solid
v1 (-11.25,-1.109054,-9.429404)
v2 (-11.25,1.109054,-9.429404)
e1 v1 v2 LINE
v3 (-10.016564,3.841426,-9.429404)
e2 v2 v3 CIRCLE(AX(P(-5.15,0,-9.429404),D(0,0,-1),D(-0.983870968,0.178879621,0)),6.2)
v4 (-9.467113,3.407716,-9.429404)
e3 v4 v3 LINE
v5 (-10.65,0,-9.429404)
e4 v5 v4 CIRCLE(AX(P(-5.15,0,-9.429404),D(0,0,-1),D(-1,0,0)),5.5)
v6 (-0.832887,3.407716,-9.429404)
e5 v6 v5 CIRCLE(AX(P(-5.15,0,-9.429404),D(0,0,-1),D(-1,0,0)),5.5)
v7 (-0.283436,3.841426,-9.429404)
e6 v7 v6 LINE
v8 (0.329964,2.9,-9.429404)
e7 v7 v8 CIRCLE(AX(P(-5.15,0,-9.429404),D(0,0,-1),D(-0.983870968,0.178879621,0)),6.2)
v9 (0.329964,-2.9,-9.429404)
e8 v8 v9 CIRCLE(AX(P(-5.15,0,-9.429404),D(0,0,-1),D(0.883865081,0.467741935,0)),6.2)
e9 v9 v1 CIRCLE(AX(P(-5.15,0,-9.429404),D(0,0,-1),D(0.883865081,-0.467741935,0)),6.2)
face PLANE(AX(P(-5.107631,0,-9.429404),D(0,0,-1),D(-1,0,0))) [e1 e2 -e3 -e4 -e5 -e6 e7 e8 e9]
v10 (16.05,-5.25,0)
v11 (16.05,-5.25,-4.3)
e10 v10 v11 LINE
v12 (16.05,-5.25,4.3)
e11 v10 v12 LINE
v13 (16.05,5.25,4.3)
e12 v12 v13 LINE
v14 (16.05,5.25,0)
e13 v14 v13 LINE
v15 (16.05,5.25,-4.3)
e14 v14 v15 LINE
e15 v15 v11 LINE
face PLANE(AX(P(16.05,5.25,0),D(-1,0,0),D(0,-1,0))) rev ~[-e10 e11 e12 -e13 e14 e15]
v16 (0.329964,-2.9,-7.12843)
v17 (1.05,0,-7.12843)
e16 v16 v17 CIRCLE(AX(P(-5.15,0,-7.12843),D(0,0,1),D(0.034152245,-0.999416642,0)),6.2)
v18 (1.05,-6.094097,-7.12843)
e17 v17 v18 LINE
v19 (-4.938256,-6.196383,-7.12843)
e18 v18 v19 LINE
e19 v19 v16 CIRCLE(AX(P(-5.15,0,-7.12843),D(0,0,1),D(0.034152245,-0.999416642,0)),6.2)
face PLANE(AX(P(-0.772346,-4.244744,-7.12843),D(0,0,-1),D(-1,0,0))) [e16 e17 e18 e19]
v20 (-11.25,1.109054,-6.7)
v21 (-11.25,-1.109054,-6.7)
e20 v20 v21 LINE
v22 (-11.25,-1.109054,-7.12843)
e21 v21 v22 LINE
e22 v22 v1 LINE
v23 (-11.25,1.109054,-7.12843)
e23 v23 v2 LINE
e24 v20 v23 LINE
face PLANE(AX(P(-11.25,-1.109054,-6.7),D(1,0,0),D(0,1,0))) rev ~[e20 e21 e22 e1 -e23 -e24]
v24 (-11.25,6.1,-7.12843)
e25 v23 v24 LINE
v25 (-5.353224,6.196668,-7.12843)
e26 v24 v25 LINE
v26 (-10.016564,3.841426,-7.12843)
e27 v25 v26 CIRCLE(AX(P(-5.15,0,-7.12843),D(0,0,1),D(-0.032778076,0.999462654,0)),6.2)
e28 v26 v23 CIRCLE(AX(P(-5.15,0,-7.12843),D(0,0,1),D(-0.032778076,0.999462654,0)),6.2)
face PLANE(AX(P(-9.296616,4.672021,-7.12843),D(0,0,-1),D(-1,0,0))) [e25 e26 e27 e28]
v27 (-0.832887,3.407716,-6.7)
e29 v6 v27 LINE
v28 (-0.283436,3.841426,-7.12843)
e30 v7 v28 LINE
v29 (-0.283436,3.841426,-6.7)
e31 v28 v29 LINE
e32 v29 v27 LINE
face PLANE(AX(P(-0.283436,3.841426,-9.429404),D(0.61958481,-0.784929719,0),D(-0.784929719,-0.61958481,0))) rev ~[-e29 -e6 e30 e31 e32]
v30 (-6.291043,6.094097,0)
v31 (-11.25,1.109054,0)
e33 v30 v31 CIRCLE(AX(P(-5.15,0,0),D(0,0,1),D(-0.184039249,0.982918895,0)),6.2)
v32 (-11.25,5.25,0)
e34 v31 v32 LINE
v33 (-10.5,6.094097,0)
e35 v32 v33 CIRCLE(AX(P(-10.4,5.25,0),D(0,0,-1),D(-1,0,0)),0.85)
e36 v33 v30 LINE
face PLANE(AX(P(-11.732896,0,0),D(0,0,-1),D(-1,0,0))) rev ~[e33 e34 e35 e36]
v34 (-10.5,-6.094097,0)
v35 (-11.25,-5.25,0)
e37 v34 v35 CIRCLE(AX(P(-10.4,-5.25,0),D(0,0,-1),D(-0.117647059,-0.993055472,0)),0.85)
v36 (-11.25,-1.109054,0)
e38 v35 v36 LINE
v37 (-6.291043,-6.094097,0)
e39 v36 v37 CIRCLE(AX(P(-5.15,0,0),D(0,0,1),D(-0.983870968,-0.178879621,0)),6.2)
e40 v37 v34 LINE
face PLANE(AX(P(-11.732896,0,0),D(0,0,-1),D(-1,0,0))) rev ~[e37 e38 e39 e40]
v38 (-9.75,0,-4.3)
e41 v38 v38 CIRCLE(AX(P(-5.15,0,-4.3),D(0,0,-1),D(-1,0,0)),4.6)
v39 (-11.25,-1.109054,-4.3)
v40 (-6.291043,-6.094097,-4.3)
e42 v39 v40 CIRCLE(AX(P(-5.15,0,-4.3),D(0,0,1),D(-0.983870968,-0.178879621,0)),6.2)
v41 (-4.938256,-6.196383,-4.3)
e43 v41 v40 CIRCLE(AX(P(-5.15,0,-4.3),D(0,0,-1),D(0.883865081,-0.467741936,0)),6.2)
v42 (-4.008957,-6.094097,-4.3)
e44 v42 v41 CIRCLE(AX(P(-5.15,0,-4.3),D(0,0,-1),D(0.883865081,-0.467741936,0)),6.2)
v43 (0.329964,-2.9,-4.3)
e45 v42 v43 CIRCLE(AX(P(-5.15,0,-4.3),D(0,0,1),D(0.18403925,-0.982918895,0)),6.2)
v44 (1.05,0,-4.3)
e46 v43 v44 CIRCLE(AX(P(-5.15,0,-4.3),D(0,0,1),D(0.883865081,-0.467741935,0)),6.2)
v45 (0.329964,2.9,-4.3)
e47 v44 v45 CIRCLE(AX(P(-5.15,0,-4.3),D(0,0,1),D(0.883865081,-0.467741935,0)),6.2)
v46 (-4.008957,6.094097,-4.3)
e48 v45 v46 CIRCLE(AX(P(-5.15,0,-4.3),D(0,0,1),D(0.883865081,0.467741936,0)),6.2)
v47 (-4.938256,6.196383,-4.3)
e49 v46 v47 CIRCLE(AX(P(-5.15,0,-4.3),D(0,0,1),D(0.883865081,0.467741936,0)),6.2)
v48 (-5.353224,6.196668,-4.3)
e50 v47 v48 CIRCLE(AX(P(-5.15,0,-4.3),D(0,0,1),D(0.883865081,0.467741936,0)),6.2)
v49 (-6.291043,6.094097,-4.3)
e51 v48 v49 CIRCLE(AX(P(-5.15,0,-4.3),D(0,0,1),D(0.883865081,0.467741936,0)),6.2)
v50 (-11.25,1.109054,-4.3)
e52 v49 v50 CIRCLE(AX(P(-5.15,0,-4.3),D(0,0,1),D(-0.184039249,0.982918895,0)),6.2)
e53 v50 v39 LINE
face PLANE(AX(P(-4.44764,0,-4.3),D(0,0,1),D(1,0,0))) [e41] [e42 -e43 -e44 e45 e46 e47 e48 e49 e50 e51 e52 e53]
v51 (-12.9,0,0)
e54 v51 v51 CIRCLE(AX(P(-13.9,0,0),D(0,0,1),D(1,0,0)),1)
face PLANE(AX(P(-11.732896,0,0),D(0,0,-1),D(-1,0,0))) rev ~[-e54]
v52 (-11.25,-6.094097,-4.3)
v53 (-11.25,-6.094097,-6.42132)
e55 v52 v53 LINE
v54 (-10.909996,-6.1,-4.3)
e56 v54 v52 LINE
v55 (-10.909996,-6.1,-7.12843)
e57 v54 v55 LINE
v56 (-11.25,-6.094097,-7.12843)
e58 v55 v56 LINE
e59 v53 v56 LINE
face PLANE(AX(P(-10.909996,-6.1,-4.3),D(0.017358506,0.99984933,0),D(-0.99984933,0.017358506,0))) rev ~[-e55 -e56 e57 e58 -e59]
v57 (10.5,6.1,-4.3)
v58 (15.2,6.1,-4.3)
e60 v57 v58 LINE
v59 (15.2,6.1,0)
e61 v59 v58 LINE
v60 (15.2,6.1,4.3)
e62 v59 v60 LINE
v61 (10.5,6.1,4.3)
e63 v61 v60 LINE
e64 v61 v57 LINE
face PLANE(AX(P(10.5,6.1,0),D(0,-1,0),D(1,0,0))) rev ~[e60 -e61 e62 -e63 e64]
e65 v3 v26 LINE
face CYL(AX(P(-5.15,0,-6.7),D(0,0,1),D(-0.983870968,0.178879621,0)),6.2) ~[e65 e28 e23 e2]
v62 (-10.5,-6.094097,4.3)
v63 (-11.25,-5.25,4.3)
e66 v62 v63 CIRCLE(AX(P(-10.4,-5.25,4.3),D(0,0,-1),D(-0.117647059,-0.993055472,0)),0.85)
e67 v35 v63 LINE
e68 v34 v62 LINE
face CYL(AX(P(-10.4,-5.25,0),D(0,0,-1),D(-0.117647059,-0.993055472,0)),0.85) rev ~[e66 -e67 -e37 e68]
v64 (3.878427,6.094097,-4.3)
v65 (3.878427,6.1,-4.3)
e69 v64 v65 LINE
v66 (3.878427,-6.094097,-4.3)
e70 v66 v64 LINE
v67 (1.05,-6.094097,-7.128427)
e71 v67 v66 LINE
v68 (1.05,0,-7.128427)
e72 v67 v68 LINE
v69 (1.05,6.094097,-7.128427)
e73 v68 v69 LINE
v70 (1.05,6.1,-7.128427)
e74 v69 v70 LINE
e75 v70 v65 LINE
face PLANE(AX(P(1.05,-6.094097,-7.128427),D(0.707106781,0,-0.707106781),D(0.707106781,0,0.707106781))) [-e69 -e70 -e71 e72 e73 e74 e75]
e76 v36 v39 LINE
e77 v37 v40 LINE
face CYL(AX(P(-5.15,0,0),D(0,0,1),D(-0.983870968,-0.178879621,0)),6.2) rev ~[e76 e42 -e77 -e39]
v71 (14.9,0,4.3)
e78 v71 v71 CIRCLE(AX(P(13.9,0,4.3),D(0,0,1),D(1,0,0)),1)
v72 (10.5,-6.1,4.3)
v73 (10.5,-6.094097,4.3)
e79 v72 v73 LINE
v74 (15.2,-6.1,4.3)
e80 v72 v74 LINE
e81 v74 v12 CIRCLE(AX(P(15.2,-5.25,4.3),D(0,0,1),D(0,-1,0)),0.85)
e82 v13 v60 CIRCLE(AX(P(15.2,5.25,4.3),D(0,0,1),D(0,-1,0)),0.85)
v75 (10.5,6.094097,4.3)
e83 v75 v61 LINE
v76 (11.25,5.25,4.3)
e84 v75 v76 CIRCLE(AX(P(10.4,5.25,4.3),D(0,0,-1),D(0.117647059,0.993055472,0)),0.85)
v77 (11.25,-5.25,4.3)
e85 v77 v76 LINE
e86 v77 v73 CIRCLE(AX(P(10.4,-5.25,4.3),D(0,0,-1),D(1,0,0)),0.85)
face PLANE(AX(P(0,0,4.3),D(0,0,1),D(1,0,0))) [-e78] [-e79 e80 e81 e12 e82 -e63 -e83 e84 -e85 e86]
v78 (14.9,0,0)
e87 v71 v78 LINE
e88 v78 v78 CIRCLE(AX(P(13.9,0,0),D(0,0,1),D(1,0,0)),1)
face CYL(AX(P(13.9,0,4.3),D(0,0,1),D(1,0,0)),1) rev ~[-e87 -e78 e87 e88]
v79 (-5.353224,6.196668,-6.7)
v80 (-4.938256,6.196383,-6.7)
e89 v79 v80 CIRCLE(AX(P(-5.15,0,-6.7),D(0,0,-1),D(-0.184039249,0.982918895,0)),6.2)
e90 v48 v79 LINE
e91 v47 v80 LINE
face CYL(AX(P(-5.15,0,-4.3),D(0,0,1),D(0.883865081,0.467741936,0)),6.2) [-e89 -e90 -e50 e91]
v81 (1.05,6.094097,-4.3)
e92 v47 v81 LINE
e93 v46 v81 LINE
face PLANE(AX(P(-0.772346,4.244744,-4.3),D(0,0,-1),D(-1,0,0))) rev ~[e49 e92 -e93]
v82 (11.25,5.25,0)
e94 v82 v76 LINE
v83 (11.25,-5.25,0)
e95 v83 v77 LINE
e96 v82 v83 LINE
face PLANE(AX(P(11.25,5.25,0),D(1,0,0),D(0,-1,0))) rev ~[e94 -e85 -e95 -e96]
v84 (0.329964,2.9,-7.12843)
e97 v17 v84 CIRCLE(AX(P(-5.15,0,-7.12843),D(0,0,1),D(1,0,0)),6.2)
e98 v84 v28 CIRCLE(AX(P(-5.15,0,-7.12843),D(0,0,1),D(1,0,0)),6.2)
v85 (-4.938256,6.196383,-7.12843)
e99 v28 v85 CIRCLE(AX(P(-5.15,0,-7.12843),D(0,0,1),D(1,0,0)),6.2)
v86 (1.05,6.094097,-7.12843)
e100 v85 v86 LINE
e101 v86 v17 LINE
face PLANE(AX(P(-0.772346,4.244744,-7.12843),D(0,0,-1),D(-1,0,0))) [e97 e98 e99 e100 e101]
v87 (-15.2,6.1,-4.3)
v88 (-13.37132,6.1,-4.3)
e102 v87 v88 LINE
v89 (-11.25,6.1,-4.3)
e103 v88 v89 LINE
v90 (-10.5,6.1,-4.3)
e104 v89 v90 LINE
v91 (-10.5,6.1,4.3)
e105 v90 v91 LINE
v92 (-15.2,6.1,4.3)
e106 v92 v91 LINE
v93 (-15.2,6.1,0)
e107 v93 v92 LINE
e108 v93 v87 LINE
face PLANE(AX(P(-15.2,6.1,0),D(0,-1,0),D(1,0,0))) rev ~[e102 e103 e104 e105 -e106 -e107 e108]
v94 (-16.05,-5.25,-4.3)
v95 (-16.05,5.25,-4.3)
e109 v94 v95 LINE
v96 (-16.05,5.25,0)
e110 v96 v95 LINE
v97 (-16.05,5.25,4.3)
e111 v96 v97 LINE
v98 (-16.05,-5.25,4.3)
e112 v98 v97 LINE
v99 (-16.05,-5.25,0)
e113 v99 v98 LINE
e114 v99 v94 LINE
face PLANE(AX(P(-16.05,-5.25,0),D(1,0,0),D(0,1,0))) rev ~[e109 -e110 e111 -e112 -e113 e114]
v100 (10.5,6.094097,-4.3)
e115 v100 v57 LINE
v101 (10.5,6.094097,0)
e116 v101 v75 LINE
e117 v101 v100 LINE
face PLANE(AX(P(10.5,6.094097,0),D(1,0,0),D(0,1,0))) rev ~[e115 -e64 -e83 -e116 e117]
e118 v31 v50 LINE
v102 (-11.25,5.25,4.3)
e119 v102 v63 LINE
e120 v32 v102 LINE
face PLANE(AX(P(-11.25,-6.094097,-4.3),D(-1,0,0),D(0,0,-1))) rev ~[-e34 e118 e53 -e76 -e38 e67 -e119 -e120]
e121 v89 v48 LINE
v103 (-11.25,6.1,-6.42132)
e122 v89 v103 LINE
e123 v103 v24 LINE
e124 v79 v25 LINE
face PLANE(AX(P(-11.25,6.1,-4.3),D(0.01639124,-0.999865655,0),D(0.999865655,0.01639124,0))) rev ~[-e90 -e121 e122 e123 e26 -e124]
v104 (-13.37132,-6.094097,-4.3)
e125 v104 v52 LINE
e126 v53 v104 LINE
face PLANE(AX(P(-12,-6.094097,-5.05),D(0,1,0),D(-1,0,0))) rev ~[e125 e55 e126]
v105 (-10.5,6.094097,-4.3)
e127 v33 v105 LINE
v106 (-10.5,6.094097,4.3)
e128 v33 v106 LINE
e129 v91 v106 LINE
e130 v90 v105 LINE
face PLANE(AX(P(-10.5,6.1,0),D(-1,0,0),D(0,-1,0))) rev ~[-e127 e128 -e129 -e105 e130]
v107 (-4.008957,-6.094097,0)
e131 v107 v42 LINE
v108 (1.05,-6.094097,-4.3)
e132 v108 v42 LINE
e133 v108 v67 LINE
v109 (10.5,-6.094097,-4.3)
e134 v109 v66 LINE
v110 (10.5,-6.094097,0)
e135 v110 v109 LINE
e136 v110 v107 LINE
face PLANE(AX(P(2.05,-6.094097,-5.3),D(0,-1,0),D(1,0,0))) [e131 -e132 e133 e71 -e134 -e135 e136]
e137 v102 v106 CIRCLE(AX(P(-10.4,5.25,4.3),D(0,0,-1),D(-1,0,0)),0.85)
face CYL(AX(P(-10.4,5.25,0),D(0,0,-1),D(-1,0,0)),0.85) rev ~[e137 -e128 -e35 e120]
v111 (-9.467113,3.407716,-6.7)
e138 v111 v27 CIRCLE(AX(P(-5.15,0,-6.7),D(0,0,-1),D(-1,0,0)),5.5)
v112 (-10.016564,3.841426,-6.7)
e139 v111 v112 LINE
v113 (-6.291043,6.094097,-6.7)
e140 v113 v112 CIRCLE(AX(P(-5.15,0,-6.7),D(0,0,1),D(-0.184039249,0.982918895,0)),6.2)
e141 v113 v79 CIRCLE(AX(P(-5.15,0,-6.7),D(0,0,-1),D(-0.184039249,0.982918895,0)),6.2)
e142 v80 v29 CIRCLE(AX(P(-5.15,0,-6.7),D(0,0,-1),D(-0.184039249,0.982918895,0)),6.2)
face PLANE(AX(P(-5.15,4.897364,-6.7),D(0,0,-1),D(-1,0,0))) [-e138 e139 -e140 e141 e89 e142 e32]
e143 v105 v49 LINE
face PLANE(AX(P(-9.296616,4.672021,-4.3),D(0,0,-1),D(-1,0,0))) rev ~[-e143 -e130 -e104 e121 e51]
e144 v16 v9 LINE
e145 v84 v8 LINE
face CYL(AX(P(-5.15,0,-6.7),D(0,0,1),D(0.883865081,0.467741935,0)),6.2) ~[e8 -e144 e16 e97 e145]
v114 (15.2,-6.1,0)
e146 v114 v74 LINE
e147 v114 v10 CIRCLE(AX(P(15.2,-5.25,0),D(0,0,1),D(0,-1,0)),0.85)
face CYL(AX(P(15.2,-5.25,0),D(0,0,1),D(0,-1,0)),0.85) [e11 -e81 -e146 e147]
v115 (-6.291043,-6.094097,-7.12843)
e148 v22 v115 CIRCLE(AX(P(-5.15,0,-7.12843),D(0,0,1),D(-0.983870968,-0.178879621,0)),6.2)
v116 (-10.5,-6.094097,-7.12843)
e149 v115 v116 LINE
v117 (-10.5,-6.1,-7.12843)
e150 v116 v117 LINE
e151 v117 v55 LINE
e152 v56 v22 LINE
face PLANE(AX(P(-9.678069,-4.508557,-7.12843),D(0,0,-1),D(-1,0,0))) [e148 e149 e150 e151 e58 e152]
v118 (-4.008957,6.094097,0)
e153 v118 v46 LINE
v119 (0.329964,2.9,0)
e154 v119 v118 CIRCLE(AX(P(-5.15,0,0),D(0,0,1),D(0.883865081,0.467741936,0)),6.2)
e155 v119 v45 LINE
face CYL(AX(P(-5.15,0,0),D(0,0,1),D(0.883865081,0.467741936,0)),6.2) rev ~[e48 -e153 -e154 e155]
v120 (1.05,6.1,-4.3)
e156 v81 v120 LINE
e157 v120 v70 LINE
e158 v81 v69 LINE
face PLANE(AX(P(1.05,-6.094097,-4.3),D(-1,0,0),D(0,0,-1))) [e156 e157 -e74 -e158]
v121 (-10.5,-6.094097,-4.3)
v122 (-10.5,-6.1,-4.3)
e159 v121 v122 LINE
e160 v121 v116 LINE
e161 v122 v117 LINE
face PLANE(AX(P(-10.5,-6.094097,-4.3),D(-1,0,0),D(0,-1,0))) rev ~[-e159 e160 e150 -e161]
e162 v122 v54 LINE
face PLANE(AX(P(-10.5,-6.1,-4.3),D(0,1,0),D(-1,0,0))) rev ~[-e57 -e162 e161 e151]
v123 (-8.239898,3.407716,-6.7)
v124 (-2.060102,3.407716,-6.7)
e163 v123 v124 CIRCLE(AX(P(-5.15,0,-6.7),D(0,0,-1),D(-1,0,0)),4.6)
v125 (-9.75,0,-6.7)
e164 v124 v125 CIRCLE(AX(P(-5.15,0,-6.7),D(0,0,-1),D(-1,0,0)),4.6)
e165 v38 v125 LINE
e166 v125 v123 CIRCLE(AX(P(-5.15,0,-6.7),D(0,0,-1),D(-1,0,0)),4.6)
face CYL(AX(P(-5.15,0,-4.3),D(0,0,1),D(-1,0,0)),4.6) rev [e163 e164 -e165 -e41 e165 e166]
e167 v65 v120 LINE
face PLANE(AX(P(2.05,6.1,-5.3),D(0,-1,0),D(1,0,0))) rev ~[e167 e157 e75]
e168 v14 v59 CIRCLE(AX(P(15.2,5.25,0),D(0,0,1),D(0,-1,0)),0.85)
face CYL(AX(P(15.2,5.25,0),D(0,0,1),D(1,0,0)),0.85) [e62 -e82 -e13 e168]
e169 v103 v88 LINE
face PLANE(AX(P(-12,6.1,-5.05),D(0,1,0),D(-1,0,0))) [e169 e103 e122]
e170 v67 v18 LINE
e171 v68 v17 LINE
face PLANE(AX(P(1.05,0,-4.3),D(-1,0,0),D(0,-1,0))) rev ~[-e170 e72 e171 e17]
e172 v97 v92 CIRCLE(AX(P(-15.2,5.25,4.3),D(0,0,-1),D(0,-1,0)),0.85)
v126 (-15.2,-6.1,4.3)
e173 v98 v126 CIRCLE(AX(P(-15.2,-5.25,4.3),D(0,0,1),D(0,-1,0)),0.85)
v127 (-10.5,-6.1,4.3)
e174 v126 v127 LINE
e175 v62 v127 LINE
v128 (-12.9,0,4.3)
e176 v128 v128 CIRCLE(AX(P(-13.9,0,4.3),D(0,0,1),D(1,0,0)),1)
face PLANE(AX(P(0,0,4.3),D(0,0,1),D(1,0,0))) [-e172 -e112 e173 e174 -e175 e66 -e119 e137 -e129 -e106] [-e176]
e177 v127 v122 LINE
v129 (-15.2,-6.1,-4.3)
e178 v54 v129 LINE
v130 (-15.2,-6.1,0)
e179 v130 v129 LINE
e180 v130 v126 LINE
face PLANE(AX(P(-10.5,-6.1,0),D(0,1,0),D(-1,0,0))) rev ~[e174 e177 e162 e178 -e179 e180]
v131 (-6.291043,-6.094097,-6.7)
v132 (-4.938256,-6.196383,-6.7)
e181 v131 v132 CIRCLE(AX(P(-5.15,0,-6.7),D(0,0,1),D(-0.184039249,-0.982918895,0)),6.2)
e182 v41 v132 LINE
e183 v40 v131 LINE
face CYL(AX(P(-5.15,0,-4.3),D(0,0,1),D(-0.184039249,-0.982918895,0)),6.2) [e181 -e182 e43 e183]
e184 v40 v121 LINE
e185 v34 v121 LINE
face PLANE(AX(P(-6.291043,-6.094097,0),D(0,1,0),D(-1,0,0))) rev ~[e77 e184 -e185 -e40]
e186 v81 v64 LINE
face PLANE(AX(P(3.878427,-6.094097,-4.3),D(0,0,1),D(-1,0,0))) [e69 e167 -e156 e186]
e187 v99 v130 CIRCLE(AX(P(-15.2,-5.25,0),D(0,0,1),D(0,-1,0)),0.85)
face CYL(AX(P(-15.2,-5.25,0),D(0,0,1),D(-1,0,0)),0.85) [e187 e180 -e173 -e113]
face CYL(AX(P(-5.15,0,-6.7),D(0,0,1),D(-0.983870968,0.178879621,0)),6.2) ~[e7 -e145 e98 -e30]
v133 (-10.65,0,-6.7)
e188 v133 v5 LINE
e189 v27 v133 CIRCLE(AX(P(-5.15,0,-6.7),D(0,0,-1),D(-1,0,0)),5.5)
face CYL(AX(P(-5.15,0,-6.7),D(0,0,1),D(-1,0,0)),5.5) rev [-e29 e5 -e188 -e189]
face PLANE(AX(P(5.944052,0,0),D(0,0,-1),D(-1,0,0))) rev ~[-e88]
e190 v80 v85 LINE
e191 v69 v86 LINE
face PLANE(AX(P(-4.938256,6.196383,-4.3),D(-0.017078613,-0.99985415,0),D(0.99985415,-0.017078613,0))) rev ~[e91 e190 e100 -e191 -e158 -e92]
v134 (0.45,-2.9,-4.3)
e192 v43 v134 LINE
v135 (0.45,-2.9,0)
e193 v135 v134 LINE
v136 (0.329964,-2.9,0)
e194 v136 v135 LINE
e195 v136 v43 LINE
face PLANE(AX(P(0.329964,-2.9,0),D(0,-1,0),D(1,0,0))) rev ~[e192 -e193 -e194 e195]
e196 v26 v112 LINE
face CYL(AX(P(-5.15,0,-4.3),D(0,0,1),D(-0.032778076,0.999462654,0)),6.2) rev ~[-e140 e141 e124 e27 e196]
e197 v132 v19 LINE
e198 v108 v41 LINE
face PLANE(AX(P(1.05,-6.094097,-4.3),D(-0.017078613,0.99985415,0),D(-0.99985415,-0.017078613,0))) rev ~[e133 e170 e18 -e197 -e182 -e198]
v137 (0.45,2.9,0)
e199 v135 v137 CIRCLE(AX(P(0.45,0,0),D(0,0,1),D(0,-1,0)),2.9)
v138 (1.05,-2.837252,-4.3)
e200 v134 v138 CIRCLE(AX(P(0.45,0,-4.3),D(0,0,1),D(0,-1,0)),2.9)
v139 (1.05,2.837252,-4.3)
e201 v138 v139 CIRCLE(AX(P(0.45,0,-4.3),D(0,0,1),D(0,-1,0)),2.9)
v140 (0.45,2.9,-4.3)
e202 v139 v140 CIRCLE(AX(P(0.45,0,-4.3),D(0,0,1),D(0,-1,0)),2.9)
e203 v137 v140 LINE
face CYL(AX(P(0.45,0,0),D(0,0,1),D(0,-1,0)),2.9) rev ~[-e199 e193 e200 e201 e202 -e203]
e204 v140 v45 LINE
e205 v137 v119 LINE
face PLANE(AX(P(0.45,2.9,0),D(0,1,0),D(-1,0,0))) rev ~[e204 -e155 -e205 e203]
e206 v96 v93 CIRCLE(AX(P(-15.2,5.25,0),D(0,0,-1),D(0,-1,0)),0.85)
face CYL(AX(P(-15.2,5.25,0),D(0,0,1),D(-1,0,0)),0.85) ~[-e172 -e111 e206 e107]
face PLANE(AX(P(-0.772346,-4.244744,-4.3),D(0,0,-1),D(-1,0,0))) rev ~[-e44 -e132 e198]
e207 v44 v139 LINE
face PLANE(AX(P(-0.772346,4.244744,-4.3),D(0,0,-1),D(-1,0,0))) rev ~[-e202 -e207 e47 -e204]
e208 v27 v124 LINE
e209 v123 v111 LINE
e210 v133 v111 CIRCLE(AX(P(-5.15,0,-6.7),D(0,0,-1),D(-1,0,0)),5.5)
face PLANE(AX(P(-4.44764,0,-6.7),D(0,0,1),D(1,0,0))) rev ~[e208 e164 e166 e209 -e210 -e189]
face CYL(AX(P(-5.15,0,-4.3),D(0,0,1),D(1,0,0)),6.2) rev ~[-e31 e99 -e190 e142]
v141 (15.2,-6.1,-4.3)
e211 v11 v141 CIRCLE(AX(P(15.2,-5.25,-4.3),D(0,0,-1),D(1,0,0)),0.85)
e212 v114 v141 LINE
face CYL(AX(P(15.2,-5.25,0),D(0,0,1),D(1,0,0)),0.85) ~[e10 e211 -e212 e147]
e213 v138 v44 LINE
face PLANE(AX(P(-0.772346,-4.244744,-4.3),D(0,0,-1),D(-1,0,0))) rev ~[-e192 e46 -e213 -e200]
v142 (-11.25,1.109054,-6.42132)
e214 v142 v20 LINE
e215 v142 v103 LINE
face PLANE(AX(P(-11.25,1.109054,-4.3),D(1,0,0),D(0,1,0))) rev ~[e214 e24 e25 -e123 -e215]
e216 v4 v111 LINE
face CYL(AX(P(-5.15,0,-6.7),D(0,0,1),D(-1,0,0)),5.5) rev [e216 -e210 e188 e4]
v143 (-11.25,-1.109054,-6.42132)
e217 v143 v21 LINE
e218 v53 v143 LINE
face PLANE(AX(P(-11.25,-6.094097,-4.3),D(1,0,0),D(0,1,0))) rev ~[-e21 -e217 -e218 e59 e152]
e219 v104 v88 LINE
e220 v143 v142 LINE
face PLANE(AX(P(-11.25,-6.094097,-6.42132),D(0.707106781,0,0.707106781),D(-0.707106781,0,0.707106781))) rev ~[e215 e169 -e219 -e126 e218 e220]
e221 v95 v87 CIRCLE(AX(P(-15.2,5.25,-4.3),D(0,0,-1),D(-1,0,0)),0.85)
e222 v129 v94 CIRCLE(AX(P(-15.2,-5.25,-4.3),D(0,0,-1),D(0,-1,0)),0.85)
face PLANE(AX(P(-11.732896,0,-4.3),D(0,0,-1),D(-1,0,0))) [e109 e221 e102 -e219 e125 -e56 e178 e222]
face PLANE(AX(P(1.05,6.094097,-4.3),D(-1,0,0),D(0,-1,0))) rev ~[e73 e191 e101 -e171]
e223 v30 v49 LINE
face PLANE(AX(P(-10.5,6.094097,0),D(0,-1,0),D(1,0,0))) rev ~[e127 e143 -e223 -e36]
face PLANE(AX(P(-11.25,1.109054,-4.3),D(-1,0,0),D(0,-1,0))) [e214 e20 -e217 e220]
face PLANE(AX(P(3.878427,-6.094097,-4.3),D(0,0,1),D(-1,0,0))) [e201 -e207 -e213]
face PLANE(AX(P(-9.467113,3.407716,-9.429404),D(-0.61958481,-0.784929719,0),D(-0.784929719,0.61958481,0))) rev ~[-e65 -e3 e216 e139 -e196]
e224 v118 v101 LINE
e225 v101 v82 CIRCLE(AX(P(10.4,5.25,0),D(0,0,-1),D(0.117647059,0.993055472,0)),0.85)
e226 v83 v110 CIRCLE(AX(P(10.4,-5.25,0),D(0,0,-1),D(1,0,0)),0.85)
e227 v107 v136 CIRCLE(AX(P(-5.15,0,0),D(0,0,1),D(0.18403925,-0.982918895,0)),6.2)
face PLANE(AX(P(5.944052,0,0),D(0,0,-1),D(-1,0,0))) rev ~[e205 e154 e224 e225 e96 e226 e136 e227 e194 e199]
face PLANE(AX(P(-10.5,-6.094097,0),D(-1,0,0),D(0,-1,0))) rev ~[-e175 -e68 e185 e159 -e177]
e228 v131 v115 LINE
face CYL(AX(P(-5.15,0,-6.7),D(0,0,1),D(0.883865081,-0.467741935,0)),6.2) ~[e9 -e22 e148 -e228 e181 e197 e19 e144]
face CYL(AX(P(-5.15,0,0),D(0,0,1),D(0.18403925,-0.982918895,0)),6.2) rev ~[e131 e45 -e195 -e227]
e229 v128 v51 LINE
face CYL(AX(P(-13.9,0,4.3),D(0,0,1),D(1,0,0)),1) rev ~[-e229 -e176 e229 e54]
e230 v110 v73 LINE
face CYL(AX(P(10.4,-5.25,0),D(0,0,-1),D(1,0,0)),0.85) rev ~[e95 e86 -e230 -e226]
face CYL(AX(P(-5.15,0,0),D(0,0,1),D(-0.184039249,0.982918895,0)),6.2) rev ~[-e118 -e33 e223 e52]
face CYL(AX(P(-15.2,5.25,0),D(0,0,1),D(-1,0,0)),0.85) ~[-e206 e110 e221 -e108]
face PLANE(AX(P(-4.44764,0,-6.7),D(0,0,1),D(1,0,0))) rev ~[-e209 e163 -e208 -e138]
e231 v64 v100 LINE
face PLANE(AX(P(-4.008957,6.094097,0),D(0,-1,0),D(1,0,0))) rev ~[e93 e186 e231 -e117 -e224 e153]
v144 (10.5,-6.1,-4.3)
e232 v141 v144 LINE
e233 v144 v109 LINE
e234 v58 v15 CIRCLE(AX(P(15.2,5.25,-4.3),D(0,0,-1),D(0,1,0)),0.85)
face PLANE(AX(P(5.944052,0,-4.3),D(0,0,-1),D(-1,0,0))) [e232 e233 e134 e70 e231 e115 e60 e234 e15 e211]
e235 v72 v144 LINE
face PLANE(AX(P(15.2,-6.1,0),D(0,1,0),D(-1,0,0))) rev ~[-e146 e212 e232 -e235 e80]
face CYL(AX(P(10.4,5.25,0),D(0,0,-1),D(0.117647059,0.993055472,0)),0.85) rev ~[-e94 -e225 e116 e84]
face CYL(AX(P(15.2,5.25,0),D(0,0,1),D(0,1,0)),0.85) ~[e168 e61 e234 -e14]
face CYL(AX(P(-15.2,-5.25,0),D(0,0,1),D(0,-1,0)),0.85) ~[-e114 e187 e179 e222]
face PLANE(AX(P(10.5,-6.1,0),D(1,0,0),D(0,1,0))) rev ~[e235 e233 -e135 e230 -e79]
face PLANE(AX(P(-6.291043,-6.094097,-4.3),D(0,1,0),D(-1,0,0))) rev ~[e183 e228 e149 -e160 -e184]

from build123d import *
from build123d.topology import SkipClean

# Parameters (mm, degrees)
SKETCH1_W           = 32.1
SKETCH1_H           = 12.2
BOSS_EXTRUDE1_DEPTH = 4.3
FILLET1_R           = 0.85
CUT_EXTRUDE1_DEPTH  = 10
SKETCH3_R           = 1
CUT_EXTRUDE2_DEPTH  = 5
BOSS_EXTRUDE2_DEPTH = 4.3
SKETCH6_R           = 4.6
BOSS_EXTRUDE3_DEPTH = 2.4
CUT_EXTRUDE4_DEPTH  = 2.4
SKETCH7_R           = 5.5
BOSS_EXTRUDE4_DEPTH = 2.729404
CUT_EXTRUDE3_DEPTH  = 2.729404426
BOSS_EXTRUDE5_DEPTH = 12.194097
BOSS_EXTRUDE6_DEPTH = 2.82843


with BuildPart() as part:
    # Sketch1 → Boss-Extrude1 (new body)
    with BuildSketch(Plane.XY):
        Rectangle(SKETCH1_W, SKETCH1_H)
    extrude(amount=BOSS_EXTRUDE1_DEPTH)

    # Fillet1
    fillet1_edges = [part.edges().sort_by_distance(p)[0] for p in [
        (16.05, -6.1, 2.15),
        (-16.05, -6.1, 2.15),
        (-16.05, 6.1, 2.15),
        (16.05, 6.1, 2.15),
    ]]
    fillet(fillet1_edges, radius=FILLET1_R)

    # Sketch2 → Cut-Extrude1 (cut)
    with BuildSketch(Plane(origin=(0, 0, 0), x_dir=(-1, 0, 0), z_dir=(0, 0, -1))):
        with BuildLine():
            ThreePointArc((-10.4, 6), (-10.930330086, 5.780330086), (-11.15, 5.25))
            Line((-11.15, 5.25), (-11.15, -5.25))
            ThreePointArc((-11.15, -5.25), (-10.930330086, -5.780330086), (-10.4, -6))
            Line((-10.4, -6), (-10.4, -6.1))
            Line((-10.4, -6.1), (10.4, -6.1))
            Line((10.4, -6.1), (10.4, -6))
            ThreePointArc((10.4, -6), (10.930330086, -5.780330086), (11.15, -5.25))
            Line((11.15, -5.25), (11.15, 5.25))
            ThreePointArc((11.15, 5.25), (10.930330086, 5.780330086), (10.4, 6))
            Line((10.4, 6), (10.4, 6.1))
            Line((10.4, 6.1), (-10.4, 6.1))
            Line((-10.4, 6.1), (-10.4, 6))
        make_face()
        with BuildLine():
            Line((-11.15, -5.25), (-11.15, 5.25))
            ThreePointArc((-11.15, 5.25), (-10.930330086, 5.780330086), (-10.4, 6))
            Line((-10.4, 6), (-10.4, 6.1))
            Line((-10.4, 6.1), (-10.5, 6.1))
            Line((-10.5, 6.1), (-10.5, 6.094097151))
            ThreePointArc((-10.5, 6.094097151), (-11.035413251, 5.81457949), (-11.25, 5.25))
            Line((-11.25, 5.25), (-11.25, -5.25))
            ThreePointArc((-11.25, -5.25), (-11.035413251, -5.81457949), (-10.5, -6.094097151))
            Line((-10.5, -6.094097151), (-10.5, -6.1))
            Line((-10.5, -6.1), (-10.4, -6.1))
            Line((-10.4, -6.1), (-10.4, -6))
            ThreePointArc((-10.4, -6), (-10.930330086, -5.780330086), (-11.15, -5.25))
        make_face()
        with BuildLine():
            Line((10.5, 6.1), (10.4, 6.1))
            Line((10.4, 6.1), (10.4, 6))
            ThreePointArc((10.4, 6), (10.930330086, 5.780330086), (11.15, 5.25))
            Line((11.15, 5.25), (11.15, -5.25))
            ThreePointArc((11.15, -5.25), (10.930330086, -5.780330086), (10.4, -6))
            Line((10.4, -6), (10.4, -6.1))
            Line((10.4, -6.1), (10.5, -6.1))
            Line((10.5, -6.1), (10.5, -6.094097151))
            ThreePointArc((10.5, -6.094097151), (11.035413251, -5.81457949), (11.25, -5.25))
            Line((11.25, -5.25), (11.25, 5.25))
            ThreePointArc((11.25, 5.25), (11.035413251, 5.81457949), (10.5, 6.094097151))
            Line((10.5, 6.094097151), (10.5, 6.1))
        make_face()
    extrude(amount=-CUT_EXTRUDE1_DEPTH, mode=Mode.SUBTRACT)


with BuildPart() as cut_extrude1_piece_1:
    # of the separate pieces the step leaves, piece 1, a body of its own (cut_extrude1_pieces)
    add(part.part.solids().sort_by_distance((-15.2, -6.1, 0))[0])


with BuildPart() as cut_extrude1_piece_2:
    # of the separate pieces the step leaves, piece 2, a body of its own (cut_extrude1_pieces)
    add(part.part.solids().sort_by_distance((10.5, -6.1, 0))[0])


with BuildPart() as cut_extrude2_tool:
    # Sketch3 → Cut-Extrude2 (new body)
    with BuildSketch(Plane.XY.offset(4.3)):
        with Locations((-13.9, 0)):
            Circle(SKETCH3_R)
        with Locations((13.9, 0)):
            Circle(SKETCH3_R)
    extrude(amount=-CUT_EXTRUDE2_DEPTH)


with BuildPart() as cut_extrude1_piece_1_1:
    add(cut_extrude1_piece_1.part)

    # Cut-Extrude2: cut by cut_extrude2_tool
    add(cut_extrude2_tool.part, mode=Mode.SUBTRACT)



with BuildPart() as cut_extrude1_piece_2_1:
    add(cut_extrude1_piece_2.part)

    # Cut-Extrude2: cut by cut_extrude2_tool
    add(cut_extrude2_tool.part, mode=Mode.SUBTRACT)


with BuildPart() as cut_extrude1_piece_1_2:
    add(cut_extrude1_piece_1_1.part)

    add(cut_extrude1_piece_2_1.part)  # Boss-Extrude2 merges Cut-Extrude1 piece 2
    # Sketch5 → Boss-Extrude2 (add)
    with BuildSketch(Plane(origin=(0, 0, 0), x_dir=(-1, 0, 0), z_dir=(0, 0, -1))):
        with BuildLine():
            Line((10.5, 6.1), (10.5, 6.094097151))
            Line((10.5, 6.094097151), (6.291043346, 6.094097151))
            ThreePointArc((6.291043346, 6.094097151), (9.545547959, 4.372545957), (11.25, 1.109053651))
            Line((11.25, 1.109053651), (11.25, -1.109053651))
            ThreePointArc((11.25, -1.109053651), (9.545547959, -4.372545957), (6.291043346, -6.094097151))
            Line((6.291043346, -6.094097151), (10.5, -6.094097151))
            Line((10.5, -6.094097151), (10.5, -6.1))
            Line((10.5, -6.1), (15.2, -6.1))
            ThreePointArc((15.2, -6.1), (15.801040764, -5.851040764), (16.05, -5.25))
            Line((16.05, -5.25), (16.05, 5.25))
            ThreePointArc((16.05, 5.25), (15.801040764, 5.851040764), (15.2, 6.1))
            Line((15.2, 6.1), (10.5, 6.1))
        make_face()
        with BuildLine():
            ThreePointArc((-0.329963504, 2.9), (1.474405208, 4.992995386), (4.008956654, 6.094097151))
            Line((4.008956654, 6.094097151), (-10.5, 6.094097151))
            Line((-10.5, 6.094097151), (-10.5, 6.1))
            Line((-10.5, 6.1), (-15.2, 6.1))
            ThreePointArc((-15.2, 6.1), (-15.801040764, 5.851040764), (-16.05, 5.25))
            Line((-16.05, 5.25), (-16.05, -5.25))
            ThreePointArc((-16.05, -5.25), (-15.801040764, -5.851040764), (-15.2, -6.1))
            Line((-15.2, -6.1), (-10.5, -6.1))
            Line((-10.5, -6.1), (-10.5, -6.094097151))
            Line((-10.5, -6.094097151), (4.008956654, -6.094097151))
            ThreePointArc((4.008956654, -6.094097151), (1.474405208, -4.992995386), (-0.329963504, -2.9))
            Line((-0.329963504, -2.9), (-0.45, -2.9))
            ThreePointArc((-0.45, -2.9), (-3.35, 0), (-0.45, 2.9))
            Line((-0.45, 2.9), (-0.329963504, 2.9))
        make_face()
    extrude(amount=BOSS_EXTRUDE2_DEPTH)

    # Sketch12 → Boss-Extrude5 (add)
    with BuildSketch(Plane.XZ.offset(6.094097151)):
        Polygon((1.05, -7.128427125), (3.878427125, -4.3), (1.05, -4.3), align=None)
        Polygon((-11.25, -6.421320344), (-13.371320344, -4.3), (-11.25, -4.3), align=None)
    extrude(amount=-BOSS_EXTRUDE5_DEPTH)



with BuildPart() as body_2:
    # Sketch6 → Boss-Extrude3 (new body)
    with BuildSketch(Plane(origin=(0, 0, -4.3), x_dir=(-1, 0, 0), z_dir=(0, 0, -1))):
        with BuildLine():
            Line((-0.329963504, -2.9), (-0.45, -2.9))
            ThreePointArc((-0.45, -2.9), (-3.35, 0), (-0.45, 2.9))
            Line((-0.45, 2.9), (-0.329963504, 2.9))
            ThreePointArc((-0.329963504, 2.9), (2.45609555, 5.584163215), (6.291043346, 6.094097151))
            ThreePointArc((6.291043346, 6.094097151), (9.545547959, 4.372545957), (11.25, 1.109053651))
            Line((11.25, 1.109053651), (11.25, -1.109053651))
            ThreePointArc((11.25, -1.109053651), (9.545547959, -4.372545957), (6.291043346, -6.094097151))
            ThreePointArc((6.291043346, -6.094097151), (2.45609555, -5.584163215), (-0.329963504, -2.9))
        make_face()
        with Locations((5.15, 0)):
            Circle(SKETCH6_R, mode=Mode.SUBTRACT)
    extrude(amount=BOSS_EXTRUDE3_DEPTH)

    # Sketch11 → Cut-Extrude4 (cut)
    with BuildSketch(Plane(origin=(0, 0, -6.7), x_dir=(-1, 0, 0), z_dir=(0, 0, -1))):
        with BuildLine():
            ThreePointArc((-0.329963504, -2.9), (-1.05, 0), (-0.329963504, 2.9))
            Line((-0.329963504, 2.9), (-0.45, 2.9))
            ThreePointArc((-0.45, 2.9), (-3.35, 0), (-0.45, -2.9))
            Line((-0.45, -2.9), (-0.329963504, -2.9))
        make_face()
        with BuildLine():
            ThreePointArc((-0.329963504, 2.9), (-0.172147578, 3.180368714), (0, 3.452173229))
            Line((0, 3.452173229), (-4.085462696, 3.186724013))
            Line((-4.085462696, 3.186724013), (-4.085462696, -3.40285267))
            Line((-4.085462696, -3.40285267), (0, -3.452173229))
            ThreePointArc((0, -3.452173229), (-0.172147578, -3.180368714), (-0.329963504, -2.9))
            Line((-0.329963504, -2.9), (-0.45, -2.9))
            ThreePointArc((-0.45, -2.9), (-3.35, 0), (-0.45, 2.9))
            Line((-0.45, 2.9), (-0.329963504, 2.9))
        make_face()
    extrude(amount=-CUT_EXTRUDE4_DEPTH, mode=Mode.SUBTRACT)

    # Sketch7 → Boss-Extrude4 (add)
    with SkipClean():  # the faces are left unmerged after this step: merging them gives an invalid solid
        with BuildSketch(Plane(origin=(0, 0, -6.7), x_dir=(-1, 0, 0), z_dir=(0, 0, -1))):
            with BuildLine():
                Line((11.25, -1.109053651), (11.25, 1.109053651))
                ThreePointArc((11.25, 1.109053651), (6.097619924, 6.127154028), (-0.329963504, 2.9))
                ThreePointArc((-0.329963504, 2.9), (-1.05, 0), (-0.329963504, -2.9))
                ThreePointArc((-0.329963504, -2.9), (6.097619924, -6.127154028), (11.25, -1.109053651))
            make_face()
            with Locations((5.15, 0)):
                Circle(SKETCH7_R, mode=Mode.SUBTRACT)
        extrude(amount=BOSS_EXTRUDE4_DEPTH)

    # Sketch8 → Cut-Extrude3 (cut)
    with SkipClean():  # the faces are left unmerged after this step: merging them gives an invalid solid
        with BuildSketch(Plane(origin=(0, 0, -9.429404426), x_dir=(-1, 0, 0), z_dir=(0, 0, -1))):
            Polygon((9.467113453, 3.407716454), (10.016564256, 3.841425821), (10.016564256, 6.311111289), (0.283435744, 6.311111289), (0.283435744, 3.841425821), (0.832886547, 3.407716454), align=None)
        extrude(amount=-CUT_EXTRUDE3_DEPTH, mode=Mode.SUBTRACT)


with BuildPart() as cut_extrude1_piece_1_3:
    with SkipClean():  # the faces are left unmerged after this step: merging them gives an invalid solid
        add(cut_extrude1_piece_1_2.part)

        add(body_2.part)  # Boss-Extrude6 merges body 2
        # Sketch13 → Boss-Extrude6 (add)
        with BuildSketch(Plane(origin=(0, 0, -4.3), x_dir=(-1, 0, 0), z_dir=(0, 0, -1))):
            with BuildLine():
                Line((4.938256081, 6.19638318), (-1.05, 6.094097151))
                Line((-1.05, 6.094097151), (-1.05, 0))
                ThreePointArc((-1.05, 0), (0.691703672, 4.308548926), (4.938256081, 6.19638318))
            make_face()
            with BuildLine():
                Line((11.25, 6.1), (5.353224073, 6.196668458))
                ThreePointArc((5.353224073, 6.196668458), (9.200137595, 4.694292861), (11.25, 1.109053651))
                Line((11.25, 1.109053651), (11.25, 6.1))
            make_face()
            with BuildLine():
                Line((11.25, -6.094097151), (11.25, -1.109053651))
                ThreePointArc((11.25, -1.109053651), (9.545547959, -4.372545957), (6.291043346, -6.094097151))
                Line((6.291043346, -6.094097151), (10.5, -6.094097151))
                Line((10.5, -6.094097151), (10.5, -6.1))
                Line((10.5, -6.1), (10.909996116, -6.1))
                Line((10.909996116, -6.1), (11.25, -6.094097151))
            make_face()
            with BuildLine():
                ThreePointArc((4.938256081, -6.19638318), (0.691703672, -4.308548926), (-1.05, 0))
                Line((-1.05, 0), (-1.05, -6.094097151))
                Line((-1.05, -6.094097151), (4.938256081, -6.19638318))
            make_face()
        extrude(amount=BOSS_EXTRUDE6_DEPTH)


solid = cut_extrude1_piece_1_3.part
